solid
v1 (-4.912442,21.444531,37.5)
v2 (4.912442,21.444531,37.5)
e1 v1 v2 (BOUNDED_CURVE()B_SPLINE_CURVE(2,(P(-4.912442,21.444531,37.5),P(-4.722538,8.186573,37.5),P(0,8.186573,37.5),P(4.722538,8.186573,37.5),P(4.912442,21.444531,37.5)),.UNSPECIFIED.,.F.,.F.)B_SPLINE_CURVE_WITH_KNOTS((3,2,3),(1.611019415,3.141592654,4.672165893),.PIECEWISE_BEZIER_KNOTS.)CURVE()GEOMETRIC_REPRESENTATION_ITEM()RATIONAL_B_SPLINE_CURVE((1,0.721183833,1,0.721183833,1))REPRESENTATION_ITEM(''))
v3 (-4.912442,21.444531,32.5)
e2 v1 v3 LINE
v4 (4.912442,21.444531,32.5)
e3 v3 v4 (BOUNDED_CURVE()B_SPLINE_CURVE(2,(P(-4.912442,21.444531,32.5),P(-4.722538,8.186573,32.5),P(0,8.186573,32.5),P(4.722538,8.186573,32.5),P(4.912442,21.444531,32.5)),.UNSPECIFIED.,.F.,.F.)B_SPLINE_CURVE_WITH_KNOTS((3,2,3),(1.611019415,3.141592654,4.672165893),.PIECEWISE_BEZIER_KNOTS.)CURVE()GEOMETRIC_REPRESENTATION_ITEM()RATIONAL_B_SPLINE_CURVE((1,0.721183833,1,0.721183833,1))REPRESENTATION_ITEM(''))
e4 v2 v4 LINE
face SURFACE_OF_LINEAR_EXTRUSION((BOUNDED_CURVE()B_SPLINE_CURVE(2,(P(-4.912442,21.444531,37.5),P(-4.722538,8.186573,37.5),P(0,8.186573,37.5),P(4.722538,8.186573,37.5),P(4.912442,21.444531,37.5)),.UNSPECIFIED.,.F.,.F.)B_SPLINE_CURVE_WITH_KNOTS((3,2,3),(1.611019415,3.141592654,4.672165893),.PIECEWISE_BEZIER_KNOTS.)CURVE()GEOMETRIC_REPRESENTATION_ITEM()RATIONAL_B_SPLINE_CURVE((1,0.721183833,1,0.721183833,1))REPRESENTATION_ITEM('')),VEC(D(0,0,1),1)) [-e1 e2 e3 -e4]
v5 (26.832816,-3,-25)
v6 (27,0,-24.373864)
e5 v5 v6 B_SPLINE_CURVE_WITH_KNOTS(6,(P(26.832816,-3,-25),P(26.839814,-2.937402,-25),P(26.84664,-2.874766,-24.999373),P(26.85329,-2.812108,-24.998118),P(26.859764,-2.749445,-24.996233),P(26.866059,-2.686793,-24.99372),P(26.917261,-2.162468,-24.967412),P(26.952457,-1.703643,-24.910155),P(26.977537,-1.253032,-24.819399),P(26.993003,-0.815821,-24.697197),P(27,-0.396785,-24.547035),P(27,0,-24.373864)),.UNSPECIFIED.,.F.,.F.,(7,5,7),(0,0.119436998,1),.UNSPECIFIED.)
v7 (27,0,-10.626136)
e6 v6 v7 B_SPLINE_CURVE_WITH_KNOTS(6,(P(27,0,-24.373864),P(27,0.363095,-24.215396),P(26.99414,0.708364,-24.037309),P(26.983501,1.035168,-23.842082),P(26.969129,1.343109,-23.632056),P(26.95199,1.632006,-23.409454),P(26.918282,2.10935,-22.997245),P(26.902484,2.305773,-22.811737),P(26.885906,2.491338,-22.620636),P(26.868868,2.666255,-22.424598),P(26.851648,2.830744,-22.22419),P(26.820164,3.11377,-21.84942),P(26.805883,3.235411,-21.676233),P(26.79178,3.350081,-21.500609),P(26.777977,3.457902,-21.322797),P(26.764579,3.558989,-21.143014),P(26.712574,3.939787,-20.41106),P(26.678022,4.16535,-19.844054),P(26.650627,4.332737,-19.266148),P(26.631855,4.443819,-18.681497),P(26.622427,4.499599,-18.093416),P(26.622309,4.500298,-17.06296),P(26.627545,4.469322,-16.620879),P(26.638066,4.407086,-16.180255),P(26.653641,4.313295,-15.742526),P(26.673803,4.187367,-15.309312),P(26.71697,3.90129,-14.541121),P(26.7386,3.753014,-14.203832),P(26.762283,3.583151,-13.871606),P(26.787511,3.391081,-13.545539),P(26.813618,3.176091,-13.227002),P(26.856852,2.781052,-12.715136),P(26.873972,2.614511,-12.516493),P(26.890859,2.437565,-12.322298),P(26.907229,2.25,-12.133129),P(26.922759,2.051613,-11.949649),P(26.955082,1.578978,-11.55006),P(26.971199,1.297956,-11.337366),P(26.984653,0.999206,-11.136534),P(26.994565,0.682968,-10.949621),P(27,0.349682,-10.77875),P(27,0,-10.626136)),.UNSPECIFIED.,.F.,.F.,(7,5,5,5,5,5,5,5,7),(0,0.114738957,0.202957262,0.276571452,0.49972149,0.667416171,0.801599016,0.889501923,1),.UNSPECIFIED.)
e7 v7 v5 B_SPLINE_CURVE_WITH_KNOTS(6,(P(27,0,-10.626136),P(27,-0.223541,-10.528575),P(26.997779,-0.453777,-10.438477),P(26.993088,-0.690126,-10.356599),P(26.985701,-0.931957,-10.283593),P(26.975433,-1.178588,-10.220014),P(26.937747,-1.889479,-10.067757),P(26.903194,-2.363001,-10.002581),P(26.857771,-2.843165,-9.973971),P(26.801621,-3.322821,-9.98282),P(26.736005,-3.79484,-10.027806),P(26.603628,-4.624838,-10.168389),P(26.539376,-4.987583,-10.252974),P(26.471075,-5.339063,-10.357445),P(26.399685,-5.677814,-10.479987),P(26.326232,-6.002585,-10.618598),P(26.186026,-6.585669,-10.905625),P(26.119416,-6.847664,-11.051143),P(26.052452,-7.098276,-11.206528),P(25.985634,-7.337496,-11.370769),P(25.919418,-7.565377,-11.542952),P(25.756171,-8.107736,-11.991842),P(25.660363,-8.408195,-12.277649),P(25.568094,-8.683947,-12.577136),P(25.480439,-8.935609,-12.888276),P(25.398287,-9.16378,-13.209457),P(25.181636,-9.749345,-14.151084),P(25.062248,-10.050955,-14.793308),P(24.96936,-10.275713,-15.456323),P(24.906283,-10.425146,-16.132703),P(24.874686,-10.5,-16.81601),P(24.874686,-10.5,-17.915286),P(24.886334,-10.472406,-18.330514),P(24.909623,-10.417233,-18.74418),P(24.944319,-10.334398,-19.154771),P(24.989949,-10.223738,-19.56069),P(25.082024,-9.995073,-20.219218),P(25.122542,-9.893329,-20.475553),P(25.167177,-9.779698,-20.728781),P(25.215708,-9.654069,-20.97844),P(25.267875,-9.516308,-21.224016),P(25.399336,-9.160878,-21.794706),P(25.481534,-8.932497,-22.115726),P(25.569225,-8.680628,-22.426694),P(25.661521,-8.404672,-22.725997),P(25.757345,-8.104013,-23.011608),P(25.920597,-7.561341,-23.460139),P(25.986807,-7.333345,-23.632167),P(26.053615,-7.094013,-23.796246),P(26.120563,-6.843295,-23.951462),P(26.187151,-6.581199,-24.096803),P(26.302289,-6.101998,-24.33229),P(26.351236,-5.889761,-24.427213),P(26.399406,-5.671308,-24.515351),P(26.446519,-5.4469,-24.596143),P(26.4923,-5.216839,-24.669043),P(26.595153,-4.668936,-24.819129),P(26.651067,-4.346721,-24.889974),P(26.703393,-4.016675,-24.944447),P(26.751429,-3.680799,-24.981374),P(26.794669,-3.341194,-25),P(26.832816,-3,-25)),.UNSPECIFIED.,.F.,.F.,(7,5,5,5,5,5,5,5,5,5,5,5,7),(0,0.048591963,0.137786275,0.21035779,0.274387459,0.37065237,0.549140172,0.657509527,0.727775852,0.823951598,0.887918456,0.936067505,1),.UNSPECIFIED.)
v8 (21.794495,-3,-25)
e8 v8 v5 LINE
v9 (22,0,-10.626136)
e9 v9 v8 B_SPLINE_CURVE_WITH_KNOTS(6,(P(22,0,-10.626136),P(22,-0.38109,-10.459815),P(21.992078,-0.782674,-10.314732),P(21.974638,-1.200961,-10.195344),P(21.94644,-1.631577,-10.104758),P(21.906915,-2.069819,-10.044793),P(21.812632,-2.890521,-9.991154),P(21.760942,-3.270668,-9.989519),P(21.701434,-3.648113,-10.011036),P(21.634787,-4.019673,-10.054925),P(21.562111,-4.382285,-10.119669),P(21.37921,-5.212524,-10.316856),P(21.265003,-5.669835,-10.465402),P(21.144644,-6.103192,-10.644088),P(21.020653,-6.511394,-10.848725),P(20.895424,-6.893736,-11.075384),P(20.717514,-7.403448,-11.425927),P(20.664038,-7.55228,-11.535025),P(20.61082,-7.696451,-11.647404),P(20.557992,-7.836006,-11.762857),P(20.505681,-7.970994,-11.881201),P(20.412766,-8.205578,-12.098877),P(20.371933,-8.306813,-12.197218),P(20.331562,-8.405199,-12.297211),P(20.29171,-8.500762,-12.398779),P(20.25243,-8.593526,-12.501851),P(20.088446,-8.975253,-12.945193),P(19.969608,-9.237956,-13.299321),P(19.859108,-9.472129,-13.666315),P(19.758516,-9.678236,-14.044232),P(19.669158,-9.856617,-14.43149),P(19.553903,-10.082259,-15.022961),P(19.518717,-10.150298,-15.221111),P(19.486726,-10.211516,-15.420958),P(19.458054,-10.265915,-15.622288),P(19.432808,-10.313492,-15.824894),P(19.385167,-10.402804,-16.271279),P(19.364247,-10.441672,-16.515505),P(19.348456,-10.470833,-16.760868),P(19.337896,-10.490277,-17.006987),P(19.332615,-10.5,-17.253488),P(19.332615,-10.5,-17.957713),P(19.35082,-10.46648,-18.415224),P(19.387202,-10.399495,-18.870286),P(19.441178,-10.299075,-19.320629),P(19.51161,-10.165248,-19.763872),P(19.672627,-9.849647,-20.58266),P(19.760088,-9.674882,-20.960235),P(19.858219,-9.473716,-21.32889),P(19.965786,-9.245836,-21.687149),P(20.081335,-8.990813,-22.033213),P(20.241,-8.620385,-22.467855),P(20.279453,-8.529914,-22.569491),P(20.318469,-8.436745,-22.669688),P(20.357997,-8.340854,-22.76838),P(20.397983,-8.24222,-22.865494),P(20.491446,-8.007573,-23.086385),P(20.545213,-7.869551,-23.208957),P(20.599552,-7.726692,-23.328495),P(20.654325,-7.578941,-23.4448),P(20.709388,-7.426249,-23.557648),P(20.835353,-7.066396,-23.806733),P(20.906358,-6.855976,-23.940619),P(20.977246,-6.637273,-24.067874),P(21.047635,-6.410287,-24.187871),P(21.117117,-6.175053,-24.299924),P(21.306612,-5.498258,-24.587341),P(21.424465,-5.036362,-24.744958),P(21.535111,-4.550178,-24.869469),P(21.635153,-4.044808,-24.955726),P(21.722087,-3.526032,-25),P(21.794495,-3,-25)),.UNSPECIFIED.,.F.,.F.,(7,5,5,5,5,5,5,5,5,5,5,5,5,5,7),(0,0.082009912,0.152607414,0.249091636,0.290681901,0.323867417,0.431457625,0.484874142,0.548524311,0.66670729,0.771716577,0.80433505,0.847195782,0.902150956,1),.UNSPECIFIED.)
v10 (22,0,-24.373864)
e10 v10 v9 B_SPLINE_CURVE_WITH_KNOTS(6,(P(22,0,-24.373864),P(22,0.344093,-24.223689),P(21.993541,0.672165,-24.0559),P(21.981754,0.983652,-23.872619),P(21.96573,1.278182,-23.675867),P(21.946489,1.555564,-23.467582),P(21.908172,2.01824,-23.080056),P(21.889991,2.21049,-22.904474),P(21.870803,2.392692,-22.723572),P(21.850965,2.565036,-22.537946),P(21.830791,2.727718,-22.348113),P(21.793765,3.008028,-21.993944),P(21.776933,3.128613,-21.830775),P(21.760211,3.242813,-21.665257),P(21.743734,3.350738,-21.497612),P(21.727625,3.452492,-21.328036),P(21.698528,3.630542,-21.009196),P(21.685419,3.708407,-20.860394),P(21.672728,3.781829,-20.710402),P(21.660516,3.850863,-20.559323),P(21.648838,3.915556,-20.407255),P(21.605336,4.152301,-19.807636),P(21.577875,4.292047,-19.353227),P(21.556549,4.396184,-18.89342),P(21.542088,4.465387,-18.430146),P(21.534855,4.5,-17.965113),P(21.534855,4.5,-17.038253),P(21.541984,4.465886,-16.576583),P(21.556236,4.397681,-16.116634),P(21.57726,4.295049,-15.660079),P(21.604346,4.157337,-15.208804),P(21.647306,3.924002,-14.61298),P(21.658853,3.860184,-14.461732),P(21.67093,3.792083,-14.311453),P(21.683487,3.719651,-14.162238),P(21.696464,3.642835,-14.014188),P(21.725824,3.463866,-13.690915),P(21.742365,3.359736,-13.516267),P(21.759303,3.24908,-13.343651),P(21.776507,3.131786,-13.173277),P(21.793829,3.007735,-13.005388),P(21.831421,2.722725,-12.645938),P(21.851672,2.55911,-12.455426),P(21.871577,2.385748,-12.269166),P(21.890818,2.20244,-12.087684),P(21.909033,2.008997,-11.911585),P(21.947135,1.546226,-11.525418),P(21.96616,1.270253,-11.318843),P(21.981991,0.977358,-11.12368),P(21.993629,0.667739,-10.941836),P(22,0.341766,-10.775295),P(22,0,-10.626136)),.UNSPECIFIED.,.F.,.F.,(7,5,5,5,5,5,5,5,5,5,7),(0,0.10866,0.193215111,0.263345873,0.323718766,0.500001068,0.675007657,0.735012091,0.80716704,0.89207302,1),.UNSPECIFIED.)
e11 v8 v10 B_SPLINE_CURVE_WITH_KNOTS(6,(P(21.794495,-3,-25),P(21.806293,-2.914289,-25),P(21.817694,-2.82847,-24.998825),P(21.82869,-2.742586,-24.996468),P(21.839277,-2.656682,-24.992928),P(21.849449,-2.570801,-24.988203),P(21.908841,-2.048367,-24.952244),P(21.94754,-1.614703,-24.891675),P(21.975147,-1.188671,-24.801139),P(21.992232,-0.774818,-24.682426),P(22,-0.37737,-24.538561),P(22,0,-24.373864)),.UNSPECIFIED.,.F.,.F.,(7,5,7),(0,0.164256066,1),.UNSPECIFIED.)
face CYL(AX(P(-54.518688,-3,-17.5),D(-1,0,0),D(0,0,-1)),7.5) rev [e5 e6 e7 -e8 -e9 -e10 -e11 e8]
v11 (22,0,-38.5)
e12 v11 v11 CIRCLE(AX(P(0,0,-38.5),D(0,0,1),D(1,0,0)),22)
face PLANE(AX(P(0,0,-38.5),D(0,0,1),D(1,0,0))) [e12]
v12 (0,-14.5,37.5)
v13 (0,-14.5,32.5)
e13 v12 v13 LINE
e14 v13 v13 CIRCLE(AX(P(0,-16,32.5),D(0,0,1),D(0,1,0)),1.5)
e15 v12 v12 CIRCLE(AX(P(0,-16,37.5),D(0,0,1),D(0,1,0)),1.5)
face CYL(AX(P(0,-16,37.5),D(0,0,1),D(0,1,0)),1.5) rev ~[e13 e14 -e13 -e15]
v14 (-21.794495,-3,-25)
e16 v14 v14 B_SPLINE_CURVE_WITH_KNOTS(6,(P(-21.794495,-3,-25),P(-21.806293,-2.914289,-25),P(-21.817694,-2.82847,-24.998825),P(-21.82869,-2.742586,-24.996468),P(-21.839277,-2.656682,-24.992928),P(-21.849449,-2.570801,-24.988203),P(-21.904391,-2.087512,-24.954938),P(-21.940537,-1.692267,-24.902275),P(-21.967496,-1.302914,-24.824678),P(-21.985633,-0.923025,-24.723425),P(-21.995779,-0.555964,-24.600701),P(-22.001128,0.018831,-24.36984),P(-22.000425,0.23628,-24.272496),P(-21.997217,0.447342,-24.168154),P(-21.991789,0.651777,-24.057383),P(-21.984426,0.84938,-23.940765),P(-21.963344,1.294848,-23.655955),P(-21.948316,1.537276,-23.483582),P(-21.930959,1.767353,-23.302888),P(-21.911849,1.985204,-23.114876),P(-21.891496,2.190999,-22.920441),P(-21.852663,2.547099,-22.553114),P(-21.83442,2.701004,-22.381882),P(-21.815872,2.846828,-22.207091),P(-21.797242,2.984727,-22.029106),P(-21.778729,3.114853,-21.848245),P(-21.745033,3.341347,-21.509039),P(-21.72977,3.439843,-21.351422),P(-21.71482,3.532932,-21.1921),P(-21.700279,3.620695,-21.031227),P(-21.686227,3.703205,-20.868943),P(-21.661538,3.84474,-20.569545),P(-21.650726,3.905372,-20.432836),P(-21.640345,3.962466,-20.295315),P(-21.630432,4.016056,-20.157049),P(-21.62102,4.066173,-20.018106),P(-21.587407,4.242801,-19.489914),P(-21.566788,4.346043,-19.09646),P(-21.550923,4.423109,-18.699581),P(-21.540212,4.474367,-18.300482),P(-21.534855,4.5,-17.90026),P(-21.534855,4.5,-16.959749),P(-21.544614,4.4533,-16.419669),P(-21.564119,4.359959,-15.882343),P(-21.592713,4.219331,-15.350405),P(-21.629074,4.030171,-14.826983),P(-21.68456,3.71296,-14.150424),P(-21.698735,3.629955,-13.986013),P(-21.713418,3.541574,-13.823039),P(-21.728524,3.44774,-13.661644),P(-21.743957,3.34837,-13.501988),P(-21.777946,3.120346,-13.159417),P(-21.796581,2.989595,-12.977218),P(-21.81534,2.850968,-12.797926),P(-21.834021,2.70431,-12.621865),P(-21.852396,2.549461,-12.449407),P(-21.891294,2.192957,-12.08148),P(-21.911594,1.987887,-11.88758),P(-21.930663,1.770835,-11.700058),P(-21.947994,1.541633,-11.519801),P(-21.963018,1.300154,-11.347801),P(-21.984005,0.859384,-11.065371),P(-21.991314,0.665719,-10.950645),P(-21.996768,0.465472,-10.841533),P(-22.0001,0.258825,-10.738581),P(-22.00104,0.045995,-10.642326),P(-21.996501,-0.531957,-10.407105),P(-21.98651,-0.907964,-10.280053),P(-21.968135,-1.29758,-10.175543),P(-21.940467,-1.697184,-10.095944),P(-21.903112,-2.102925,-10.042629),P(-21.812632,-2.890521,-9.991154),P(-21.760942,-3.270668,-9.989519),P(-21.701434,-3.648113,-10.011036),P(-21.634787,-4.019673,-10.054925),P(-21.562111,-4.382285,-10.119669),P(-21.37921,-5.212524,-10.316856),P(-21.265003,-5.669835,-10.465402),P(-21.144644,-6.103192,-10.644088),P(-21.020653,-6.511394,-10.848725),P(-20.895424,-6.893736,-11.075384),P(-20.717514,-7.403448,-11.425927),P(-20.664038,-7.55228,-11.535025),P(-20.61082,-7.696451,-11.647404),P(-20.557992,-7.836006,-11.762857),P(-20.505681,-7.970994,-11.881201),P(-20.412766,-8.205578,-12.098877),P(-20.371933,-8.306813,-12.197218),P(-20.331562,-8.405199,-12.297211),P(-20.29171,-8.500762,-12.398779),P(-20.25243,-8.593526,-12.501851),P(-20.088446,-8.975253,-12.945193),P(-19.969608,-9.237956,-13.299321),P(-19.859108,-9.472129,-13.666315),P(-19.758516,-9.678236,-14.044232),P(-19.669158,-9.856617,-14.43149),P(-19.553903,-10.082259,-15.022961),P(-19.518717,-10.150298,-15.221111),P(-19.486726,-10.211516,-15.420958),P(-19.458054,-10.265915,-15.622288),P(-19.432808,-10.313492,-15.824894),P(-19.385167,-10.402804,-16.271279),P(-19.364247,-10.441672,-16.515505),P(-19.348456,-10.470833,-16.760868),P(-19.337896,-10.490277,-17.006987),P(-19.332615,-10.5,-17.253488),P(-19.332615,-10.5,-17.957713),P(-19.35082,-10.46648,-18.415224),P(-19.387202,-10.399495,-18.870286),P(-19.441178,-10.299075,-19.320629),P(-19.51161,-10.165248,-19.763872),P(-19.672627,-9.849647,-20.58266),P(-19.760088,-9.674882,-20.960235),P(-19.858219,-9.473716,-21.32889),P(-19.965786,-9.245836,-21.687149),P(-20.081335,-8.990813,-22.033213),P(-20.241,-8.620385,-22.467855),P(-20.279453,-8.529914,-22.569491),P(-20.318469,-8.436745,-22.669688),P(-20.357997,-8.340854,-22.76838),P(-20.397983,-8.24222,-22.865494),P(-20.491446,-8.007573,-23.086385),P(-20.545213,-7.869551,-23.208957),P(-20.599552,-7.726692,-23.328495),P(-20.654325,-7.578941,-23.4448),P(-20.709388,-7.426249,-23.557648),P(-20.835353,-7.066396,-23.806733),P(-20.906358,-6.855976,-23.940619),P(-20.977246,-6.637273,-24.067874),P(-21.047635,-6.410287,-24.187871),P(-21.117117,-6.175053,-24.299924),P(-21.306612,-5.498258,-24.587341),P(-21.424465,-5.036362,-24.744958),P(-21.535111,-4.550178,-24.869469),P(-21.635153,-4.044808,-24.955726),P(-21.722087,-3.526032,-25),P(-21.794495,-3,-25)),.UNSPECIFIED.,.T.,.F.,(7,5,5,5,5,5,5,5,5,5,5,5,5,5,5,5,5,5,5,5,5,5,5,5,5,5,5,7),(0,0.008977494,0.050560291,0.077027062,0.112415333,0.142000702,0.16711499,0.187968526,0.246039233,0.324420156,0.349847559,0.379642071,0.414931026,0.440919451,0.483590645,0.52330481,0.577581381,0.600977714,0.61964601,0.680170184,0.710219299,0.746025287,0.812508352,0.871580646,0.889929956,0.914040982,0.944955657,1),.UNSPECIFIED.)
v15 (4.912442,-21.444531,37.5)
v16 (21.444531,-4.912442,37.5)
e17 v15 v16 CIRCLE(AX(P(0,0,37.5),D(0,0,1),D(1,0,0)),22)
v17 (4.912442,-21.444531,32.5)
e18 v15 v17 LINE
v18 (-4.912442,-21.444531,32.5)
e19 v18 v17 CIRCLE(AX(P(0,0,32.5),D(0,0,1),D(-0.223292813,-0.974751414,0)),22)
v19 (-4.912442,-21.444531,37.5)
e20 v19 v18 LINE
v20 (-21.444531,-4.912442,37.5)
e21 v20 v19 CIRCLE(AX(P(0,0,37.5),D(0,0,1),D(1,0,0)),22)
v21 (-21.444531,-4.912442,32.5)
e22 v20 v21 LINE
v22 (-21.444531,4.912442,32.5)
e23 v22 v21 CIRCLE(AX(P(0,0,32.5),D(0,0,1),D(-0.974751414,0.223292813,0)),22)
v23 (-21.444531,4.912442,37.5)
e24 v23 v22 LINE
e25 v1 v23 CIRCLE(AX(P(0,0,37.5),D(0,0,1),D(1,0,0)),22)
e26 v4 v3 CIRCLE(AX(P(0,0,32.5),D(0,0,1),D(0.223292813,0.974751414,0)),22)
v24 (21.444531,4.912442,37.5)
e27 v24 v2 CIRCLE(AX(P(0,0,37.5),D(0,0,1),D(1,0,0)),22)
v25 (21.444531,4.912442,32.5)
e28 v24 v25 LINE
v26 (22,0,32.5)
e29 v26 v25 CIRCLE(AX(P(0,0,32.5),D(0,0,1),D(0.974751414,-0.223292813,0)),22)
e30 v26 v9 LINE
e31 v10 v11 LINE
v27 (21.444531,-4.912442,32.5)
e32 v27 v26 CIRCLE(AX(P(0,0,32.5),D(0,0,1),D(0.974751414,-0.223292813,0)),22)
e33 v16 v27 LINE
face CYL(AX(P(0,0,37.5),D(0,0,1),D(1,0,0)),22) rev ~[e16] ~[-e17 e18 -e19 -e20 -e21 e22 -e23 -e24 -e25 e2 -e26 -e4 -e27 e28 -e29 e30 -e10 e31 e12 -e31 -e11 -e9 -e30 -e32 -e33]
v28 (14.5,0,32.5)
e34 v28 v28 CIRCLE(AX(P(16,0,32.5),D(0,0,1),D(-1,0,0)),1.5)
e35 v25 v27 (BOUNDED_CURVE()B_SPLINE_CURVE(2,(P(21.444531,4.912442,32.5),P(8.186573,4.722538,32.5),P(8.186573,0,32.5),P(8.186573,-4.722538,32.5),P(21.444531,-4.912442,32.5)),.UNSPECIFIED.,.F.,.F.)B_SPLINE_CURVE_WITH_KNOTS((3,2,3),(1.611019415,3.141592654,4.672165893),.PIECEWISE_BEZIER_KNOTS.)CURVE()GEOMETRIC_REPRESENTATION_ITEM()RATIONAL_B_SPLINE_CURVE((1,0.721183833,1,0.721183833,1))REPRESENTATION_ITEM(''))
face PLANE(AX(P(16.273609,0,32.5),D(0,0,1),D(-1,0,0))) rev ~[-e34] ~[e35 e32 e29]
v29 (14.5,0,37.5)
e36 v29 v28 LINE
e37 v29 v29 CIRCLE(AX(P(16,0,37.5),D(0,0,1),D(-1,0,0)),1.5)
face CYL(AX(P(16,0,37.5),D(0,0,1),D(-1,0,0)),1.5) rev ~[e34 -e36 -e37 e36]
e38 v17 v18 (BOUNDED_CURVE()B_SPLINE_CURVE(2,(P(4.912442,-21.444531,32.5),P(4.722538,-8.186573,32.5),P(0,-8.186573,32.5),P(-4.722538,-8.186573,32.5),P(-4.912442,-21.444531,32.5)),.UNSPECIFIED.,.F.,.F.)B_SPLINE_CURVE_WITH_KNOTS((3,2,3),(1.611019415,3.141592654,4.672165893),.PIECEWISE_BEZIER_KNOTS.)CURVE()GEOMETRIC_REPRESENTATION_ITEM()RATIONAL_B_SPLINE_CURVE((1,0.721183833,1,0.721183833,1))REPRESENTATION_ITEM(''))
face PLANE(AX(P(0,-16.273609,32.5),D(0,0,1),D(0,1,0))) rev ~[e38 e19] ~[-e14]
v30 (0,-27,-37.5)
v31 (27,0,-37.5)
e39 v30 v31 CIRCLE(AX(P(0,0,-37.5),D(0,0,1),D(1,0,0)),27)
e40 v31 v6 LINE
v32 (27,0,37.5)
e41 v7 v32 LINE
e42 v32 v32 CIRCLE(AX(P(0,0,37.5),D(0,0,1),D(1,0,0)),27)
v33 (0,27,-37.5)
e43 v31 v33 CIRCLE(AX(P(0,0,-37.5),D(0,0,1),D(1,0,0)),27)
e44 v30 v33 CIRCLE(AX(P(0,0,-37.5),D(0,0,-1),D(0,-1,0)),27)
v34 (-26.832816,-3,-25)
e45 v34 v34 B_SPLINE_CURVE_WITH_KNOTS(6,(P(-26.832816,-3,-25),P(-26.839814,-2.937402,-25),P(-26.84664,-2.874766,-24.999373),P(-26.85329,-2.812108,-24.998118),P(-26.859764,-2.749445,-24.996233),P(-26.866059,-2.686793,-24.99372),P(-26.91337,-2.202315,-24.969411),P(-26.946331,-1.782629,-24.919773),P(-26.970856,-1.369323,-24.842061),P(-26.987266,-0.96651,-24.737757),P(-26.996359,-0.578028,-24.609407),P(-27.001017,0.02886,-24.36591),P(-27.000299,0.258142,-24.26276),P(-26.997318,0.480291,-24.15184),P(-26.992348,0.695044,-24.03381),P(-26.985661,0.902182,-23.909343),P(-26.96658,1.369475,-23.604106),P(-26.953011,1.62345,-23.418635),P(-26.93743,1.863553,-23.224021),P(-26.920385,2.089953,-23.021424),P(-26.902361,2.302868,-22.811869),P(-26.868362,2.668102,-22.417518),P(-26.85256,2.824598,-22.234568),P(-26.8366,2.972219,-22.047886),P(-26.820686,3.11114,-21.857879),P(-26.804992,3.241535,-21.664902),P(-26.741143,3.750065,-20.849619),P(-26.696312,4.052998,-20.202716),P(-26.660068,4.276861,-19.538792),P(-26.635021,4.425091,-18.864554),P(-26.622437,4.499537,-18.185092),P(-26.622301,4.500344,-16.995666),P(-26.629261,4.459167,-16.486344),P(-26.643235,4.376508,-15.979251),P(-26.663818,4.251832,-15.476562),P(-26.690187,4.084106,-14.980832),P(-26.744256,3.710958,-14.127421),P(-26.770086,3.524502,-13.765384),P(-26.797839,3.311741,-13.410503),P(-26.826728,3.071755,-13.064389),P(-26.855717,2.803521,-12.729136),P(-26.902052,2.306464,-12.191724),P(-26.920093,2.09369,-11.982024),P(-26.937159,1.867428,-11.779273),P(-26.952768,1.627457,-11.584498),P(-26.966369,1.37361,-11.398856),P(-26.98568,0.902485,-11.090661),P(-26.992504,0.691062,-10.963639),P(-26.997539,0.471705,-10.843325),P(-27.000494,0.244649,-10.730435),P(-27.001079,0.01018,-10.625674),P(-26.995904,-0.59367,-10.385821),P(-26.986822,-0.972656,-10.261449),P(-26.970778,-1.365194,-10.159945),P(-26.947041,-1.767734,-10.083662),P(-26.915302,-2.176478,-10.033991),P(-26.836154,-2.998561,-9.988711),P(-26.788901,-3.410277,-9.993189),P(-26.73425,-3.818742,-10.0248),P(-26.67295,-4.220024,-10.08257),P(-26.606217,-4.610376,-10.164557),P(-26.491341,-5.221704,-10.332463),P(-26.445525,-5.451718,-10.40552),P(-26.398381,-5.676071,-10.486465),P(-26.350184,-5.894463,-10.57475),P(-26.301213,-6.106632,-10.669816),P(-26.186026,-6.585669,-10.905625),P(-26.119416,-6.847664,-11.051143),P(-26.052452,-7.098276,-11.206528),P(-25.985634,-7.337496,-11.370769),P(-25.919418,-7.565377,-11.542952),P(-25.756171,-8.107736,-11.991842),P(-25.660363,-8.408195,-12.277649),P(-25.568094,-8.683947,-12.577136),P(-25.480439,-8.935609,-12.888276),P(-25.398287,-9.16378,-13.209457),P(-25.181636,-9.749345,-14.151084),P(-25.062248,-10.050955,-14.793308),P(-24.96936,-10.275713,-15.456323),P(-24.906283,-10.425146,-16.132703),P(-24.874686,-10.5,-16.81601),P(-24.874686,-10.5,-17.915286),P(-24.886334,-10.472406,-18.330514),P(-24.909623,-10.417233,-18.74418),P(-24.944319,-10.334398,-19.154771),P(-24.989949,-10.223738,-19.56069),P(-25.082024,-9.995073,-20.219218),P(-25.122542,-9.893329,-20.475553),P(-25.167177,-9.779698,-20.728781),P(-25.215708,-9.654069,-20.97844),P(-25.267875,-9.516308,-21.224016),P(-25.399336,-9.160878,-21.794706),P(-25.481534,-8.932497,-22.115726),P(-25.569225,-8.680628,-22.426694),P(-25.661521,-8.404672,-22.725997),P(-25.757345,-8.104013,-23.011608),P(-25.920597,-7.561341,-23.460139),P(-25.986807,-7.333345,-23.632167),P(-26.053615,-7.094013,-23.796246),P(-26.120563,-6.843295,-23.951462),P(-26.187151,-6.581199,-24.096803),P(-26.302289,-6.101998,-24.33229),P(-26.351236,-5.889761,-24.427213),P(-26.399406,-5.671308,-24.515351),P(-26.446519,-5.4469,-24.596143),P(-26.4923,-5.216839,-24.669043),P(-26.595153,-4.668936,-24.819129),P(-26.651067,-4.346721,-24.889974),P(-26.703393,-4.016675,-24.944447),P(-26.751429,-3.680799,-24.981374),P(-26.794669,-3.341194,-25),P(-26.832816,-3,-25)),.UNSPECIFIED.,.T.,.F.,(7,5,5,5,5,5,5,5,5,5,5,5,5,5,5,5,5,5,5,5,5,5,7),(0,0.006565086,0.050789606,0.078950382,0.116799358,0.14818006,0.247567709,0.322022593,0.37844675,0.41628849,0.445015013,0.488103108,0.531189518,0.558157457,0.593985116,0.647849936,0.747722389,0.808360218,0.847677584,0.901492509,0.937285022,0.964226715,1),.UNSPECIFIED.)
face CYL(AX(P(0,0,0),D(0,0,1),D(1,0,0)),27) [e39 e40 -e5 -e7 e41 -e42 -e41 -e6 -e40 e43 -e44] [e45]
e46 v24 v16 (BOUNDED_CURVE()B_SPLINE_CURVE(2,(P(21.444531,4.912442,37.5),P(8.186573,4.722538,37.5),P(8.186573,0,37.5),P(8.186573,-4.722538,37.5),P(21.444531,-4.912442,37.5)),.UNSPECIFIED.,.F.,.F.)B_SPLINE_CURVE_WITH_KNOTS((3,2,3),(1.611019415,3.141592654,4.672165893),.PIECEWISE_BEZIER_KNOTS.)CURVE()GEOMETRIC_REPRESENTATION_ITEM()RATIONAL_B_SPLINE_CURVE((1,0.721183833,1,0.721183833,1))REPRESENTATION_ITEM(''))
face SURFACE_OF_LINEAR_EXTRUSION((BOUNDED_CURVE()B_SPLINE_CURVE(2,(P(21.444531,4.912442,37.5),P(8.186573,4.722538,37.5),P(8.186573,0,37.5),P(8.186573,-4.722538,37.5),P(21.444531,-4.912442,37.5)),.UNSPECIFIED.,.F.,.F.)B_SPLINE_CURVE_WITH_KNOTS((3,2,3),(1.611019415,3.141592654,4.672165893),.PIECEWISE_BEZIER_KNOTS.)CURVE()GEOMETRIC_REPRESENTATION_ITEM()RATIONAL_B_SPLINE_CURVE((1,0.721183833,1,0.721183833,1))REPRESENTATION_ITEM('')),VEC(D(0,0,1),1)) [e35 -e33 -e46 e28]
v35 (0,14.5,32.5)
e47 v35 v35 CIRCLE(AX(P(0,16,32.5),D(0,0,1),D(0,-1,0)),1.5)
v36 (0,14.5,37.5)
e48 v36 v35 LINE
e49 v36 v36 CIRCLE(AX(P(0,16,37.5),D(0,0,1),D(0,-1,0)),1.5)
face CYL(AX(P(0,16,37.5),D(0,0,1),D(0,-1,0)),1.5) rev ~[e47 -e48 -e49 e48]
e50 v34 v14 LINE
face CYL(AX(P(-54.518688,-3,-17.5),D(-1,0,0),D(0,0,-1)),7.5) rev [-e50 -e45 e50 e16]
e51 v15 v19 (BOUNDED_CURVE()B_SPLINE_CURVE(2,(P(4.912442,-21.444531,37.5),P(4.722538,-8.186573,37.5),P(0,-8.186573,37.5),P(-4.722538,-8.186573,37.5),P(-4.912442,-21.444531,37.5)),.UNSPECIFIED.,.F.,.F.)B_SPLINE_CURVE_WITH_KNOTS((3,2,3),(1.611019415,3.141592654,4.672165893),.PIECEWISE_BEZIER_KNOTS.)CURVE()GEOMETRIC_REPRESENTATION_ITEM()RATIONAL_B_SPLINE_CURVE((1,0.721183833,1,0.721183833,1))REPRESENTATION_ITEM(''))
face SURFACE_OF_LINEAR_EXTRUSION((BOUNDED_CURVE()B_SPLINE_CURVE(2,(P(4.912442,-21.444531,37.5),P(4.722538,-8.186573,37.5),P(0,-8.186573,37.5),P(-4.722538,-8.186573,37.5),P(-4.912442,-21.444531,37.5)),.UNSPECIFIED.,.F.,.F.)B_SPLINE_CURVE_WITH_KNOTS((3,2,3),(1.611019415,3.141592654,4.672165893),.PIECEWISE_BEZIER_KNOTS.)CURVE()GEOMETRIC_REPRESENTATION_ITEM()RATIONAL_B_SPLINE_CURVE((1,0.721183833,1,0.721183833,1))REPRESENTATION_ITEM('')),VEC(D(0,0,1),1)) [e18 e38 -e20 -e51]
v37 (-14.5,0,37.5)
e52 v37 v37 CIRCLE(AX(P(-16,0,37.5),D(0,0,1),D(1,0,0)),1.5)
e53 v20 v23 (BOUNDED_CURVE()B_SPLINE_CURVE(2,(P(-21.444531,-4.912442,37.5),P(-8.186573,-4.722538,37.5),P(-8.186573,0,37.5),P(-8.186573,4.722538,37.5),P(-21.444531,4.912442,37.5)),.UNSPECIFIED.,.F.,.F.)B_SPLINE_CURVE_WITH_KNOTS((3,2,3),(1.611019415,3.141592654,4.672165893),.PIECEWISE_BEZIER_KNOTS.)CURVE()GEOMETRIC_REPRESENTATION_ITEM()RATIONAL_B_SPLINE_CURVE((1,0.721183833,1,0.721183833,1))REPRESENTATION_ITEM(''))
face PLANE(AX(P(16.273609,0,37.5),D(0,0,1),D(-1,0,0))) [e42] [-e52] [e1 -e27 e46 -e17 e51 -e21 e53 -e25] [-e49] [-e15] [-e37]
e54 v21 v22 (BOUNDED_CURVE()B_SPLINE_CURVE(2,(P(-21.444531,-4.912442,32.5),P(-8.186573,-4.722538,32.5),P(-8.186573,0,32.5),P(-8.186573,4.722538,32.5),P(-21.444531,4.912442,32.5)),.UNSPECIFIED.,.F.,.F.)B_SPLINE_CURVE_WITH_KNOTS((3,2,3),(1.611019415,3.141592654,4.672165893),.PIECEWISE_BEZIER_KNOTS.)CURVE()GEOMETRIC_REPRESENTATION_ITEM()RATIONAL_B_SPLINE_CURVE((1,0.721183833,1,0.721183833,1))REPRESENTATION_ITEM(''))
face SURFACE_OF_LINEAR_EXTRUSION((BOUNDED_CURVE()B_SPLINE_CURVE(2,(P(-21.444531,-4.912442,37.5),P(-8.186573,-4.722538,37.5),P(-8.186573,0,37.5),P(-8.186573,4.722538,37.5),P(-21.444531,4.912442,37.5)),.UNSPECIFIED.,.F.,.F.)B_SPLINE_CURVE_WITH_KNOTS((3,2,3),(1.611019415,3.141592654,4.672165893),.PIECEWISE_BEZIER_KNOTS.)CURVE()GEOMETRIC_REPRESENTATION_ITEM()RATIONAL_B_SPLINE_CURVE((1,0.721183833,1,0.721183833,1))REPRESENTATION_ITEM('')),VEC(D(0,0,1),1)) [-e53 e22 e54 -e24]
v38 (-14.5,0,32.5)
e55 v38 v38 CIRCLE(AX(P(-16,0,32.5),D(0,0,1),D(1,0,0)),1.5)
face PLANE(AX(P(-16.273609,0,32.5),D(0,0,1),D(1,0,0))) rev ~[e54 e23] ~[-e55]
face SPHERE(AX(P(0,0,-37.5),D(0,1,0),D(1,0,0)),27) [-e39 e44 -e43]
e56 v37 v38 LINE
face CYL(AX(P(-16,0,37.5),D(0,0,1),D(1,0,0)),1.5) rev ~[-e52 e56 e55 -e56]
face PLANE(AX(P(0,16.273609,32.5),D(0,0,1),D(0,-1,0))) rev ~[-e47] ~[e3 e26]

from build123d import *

# Parameters (mm, degrees)
SKETCH1_R               = 27
BOSS_EXTRUDE1_DEPTH     = 37.5
CUT_EXTRUDE2_DEPTH      = 54.518688325
CUT_EXTRUDE2_DEPTH_BACK = 54.518688325
SKETCH3_R               = 7.5
REVOLVE1_ANGLE          = 180
SKETCH2_R               = 22
CUT_EXTRUDE3_DEPTH      = 76
SKETCH13_R              = 1.5
BOSS_EXTRUDE3_DEPTH     = 5
CIRPATTERN1_COUNT       = 4


with BuildPart() as part:
    # Sketch1 → Boss-Extrude1 (new, symmetric)
    with BuildSketch(Plane.XY):
        Circle(SKETCH1_R)
    extrude(amount=BOSS_EXTRUDE1_DEPTH, both=True)

    # Sketch3 → Cut-Extrude2 (cut, two sides: drawn at the far end of the back side and taken through both)
    with BuildSketch(Plane(origin=(0, 0, 0), x_dir=(0, 0, -1), z_dir=(1, 0, 0)).offset(-CUT_EXTRUDE2_DEPTH_BACK)):
        with Locations((17.5, -3)):
            Circle(SKETCH3_R)
    extrude(amount=CUT_EXTRUDE2_DEPTH + CUT_EXTRUDE2_DEPTH_BACK, mode=Mode.SUBTRACT)

    # Sketch7 → Revolve1 (revolve)
    with BuildSketch(Plane(origin=(0, 0, -37.5), x_dir=(-1, 0, 0), z_dir=(0, 0, -1))):
        with BuildLine():
            Line((0, 27), (0, -27))
            ThreePointArc((0, -27), (-27, 0), (0, 27))
        make_face()
    revolve(axis=Axis((0, 27, -37.5), (0, 1, 0)), revolution_arc=REVOLVE1_ANGLE)

    # Sketch2 → Cut-Extrude3 (cut)
    with BuildSketch(Plane.XY.offset(37.5)):
        Circle(SKETCH2_R)
    extrude(amount=-CUT_EXTRUDE3_DEPTH, mode=Mode.SUBTRACT)

    # Sketch13 → Boss-Extrude3 (add)
    with BuildSketch(Plane.XY.offset(37.5)):
        with BuildLine():
            ThreePointArc((-21.444531116, 4.912441881), (-22, 0), (-21.444531116, -4.912441881))
            add(Edge.make_bspline(
                [(-21.444531116, -4.912441881), (-8.186572838, -4.722538036), (-8.186572838, 0), (-8.186572838, 4.722538036), (-21.444531116, 4.912441881)],
                knots=[1.611019415, 1.611019415, 1.611019415, 3.141592654, 3.141592654, 4.672165893, 4.672165893, 4.672165893], degree=2, weights=[1, 0.721183833, 1, 0.721183833, 1]))
        make_face()
        with Locations((-16, 0)):
            Circle(SKETCH13_R, mode=Mode.SUBTRACT)
    boss_extrude3 = extrude(amount=-BOSS_EXTRUDE3_DEPTH)

    # CirPattern1: Boss-Extrude3 ×4 about axis
    cirpattern1_axis = Axis((0, 0, 37.5), (0, 0, -1))
    for i in range(1, CIRPATTERN1_COUNT):
        add(boss_extrude3.rotate(cirpattern1_axis, i * 360 / CIRPATTERN1_COUNT))


solid = part.part
